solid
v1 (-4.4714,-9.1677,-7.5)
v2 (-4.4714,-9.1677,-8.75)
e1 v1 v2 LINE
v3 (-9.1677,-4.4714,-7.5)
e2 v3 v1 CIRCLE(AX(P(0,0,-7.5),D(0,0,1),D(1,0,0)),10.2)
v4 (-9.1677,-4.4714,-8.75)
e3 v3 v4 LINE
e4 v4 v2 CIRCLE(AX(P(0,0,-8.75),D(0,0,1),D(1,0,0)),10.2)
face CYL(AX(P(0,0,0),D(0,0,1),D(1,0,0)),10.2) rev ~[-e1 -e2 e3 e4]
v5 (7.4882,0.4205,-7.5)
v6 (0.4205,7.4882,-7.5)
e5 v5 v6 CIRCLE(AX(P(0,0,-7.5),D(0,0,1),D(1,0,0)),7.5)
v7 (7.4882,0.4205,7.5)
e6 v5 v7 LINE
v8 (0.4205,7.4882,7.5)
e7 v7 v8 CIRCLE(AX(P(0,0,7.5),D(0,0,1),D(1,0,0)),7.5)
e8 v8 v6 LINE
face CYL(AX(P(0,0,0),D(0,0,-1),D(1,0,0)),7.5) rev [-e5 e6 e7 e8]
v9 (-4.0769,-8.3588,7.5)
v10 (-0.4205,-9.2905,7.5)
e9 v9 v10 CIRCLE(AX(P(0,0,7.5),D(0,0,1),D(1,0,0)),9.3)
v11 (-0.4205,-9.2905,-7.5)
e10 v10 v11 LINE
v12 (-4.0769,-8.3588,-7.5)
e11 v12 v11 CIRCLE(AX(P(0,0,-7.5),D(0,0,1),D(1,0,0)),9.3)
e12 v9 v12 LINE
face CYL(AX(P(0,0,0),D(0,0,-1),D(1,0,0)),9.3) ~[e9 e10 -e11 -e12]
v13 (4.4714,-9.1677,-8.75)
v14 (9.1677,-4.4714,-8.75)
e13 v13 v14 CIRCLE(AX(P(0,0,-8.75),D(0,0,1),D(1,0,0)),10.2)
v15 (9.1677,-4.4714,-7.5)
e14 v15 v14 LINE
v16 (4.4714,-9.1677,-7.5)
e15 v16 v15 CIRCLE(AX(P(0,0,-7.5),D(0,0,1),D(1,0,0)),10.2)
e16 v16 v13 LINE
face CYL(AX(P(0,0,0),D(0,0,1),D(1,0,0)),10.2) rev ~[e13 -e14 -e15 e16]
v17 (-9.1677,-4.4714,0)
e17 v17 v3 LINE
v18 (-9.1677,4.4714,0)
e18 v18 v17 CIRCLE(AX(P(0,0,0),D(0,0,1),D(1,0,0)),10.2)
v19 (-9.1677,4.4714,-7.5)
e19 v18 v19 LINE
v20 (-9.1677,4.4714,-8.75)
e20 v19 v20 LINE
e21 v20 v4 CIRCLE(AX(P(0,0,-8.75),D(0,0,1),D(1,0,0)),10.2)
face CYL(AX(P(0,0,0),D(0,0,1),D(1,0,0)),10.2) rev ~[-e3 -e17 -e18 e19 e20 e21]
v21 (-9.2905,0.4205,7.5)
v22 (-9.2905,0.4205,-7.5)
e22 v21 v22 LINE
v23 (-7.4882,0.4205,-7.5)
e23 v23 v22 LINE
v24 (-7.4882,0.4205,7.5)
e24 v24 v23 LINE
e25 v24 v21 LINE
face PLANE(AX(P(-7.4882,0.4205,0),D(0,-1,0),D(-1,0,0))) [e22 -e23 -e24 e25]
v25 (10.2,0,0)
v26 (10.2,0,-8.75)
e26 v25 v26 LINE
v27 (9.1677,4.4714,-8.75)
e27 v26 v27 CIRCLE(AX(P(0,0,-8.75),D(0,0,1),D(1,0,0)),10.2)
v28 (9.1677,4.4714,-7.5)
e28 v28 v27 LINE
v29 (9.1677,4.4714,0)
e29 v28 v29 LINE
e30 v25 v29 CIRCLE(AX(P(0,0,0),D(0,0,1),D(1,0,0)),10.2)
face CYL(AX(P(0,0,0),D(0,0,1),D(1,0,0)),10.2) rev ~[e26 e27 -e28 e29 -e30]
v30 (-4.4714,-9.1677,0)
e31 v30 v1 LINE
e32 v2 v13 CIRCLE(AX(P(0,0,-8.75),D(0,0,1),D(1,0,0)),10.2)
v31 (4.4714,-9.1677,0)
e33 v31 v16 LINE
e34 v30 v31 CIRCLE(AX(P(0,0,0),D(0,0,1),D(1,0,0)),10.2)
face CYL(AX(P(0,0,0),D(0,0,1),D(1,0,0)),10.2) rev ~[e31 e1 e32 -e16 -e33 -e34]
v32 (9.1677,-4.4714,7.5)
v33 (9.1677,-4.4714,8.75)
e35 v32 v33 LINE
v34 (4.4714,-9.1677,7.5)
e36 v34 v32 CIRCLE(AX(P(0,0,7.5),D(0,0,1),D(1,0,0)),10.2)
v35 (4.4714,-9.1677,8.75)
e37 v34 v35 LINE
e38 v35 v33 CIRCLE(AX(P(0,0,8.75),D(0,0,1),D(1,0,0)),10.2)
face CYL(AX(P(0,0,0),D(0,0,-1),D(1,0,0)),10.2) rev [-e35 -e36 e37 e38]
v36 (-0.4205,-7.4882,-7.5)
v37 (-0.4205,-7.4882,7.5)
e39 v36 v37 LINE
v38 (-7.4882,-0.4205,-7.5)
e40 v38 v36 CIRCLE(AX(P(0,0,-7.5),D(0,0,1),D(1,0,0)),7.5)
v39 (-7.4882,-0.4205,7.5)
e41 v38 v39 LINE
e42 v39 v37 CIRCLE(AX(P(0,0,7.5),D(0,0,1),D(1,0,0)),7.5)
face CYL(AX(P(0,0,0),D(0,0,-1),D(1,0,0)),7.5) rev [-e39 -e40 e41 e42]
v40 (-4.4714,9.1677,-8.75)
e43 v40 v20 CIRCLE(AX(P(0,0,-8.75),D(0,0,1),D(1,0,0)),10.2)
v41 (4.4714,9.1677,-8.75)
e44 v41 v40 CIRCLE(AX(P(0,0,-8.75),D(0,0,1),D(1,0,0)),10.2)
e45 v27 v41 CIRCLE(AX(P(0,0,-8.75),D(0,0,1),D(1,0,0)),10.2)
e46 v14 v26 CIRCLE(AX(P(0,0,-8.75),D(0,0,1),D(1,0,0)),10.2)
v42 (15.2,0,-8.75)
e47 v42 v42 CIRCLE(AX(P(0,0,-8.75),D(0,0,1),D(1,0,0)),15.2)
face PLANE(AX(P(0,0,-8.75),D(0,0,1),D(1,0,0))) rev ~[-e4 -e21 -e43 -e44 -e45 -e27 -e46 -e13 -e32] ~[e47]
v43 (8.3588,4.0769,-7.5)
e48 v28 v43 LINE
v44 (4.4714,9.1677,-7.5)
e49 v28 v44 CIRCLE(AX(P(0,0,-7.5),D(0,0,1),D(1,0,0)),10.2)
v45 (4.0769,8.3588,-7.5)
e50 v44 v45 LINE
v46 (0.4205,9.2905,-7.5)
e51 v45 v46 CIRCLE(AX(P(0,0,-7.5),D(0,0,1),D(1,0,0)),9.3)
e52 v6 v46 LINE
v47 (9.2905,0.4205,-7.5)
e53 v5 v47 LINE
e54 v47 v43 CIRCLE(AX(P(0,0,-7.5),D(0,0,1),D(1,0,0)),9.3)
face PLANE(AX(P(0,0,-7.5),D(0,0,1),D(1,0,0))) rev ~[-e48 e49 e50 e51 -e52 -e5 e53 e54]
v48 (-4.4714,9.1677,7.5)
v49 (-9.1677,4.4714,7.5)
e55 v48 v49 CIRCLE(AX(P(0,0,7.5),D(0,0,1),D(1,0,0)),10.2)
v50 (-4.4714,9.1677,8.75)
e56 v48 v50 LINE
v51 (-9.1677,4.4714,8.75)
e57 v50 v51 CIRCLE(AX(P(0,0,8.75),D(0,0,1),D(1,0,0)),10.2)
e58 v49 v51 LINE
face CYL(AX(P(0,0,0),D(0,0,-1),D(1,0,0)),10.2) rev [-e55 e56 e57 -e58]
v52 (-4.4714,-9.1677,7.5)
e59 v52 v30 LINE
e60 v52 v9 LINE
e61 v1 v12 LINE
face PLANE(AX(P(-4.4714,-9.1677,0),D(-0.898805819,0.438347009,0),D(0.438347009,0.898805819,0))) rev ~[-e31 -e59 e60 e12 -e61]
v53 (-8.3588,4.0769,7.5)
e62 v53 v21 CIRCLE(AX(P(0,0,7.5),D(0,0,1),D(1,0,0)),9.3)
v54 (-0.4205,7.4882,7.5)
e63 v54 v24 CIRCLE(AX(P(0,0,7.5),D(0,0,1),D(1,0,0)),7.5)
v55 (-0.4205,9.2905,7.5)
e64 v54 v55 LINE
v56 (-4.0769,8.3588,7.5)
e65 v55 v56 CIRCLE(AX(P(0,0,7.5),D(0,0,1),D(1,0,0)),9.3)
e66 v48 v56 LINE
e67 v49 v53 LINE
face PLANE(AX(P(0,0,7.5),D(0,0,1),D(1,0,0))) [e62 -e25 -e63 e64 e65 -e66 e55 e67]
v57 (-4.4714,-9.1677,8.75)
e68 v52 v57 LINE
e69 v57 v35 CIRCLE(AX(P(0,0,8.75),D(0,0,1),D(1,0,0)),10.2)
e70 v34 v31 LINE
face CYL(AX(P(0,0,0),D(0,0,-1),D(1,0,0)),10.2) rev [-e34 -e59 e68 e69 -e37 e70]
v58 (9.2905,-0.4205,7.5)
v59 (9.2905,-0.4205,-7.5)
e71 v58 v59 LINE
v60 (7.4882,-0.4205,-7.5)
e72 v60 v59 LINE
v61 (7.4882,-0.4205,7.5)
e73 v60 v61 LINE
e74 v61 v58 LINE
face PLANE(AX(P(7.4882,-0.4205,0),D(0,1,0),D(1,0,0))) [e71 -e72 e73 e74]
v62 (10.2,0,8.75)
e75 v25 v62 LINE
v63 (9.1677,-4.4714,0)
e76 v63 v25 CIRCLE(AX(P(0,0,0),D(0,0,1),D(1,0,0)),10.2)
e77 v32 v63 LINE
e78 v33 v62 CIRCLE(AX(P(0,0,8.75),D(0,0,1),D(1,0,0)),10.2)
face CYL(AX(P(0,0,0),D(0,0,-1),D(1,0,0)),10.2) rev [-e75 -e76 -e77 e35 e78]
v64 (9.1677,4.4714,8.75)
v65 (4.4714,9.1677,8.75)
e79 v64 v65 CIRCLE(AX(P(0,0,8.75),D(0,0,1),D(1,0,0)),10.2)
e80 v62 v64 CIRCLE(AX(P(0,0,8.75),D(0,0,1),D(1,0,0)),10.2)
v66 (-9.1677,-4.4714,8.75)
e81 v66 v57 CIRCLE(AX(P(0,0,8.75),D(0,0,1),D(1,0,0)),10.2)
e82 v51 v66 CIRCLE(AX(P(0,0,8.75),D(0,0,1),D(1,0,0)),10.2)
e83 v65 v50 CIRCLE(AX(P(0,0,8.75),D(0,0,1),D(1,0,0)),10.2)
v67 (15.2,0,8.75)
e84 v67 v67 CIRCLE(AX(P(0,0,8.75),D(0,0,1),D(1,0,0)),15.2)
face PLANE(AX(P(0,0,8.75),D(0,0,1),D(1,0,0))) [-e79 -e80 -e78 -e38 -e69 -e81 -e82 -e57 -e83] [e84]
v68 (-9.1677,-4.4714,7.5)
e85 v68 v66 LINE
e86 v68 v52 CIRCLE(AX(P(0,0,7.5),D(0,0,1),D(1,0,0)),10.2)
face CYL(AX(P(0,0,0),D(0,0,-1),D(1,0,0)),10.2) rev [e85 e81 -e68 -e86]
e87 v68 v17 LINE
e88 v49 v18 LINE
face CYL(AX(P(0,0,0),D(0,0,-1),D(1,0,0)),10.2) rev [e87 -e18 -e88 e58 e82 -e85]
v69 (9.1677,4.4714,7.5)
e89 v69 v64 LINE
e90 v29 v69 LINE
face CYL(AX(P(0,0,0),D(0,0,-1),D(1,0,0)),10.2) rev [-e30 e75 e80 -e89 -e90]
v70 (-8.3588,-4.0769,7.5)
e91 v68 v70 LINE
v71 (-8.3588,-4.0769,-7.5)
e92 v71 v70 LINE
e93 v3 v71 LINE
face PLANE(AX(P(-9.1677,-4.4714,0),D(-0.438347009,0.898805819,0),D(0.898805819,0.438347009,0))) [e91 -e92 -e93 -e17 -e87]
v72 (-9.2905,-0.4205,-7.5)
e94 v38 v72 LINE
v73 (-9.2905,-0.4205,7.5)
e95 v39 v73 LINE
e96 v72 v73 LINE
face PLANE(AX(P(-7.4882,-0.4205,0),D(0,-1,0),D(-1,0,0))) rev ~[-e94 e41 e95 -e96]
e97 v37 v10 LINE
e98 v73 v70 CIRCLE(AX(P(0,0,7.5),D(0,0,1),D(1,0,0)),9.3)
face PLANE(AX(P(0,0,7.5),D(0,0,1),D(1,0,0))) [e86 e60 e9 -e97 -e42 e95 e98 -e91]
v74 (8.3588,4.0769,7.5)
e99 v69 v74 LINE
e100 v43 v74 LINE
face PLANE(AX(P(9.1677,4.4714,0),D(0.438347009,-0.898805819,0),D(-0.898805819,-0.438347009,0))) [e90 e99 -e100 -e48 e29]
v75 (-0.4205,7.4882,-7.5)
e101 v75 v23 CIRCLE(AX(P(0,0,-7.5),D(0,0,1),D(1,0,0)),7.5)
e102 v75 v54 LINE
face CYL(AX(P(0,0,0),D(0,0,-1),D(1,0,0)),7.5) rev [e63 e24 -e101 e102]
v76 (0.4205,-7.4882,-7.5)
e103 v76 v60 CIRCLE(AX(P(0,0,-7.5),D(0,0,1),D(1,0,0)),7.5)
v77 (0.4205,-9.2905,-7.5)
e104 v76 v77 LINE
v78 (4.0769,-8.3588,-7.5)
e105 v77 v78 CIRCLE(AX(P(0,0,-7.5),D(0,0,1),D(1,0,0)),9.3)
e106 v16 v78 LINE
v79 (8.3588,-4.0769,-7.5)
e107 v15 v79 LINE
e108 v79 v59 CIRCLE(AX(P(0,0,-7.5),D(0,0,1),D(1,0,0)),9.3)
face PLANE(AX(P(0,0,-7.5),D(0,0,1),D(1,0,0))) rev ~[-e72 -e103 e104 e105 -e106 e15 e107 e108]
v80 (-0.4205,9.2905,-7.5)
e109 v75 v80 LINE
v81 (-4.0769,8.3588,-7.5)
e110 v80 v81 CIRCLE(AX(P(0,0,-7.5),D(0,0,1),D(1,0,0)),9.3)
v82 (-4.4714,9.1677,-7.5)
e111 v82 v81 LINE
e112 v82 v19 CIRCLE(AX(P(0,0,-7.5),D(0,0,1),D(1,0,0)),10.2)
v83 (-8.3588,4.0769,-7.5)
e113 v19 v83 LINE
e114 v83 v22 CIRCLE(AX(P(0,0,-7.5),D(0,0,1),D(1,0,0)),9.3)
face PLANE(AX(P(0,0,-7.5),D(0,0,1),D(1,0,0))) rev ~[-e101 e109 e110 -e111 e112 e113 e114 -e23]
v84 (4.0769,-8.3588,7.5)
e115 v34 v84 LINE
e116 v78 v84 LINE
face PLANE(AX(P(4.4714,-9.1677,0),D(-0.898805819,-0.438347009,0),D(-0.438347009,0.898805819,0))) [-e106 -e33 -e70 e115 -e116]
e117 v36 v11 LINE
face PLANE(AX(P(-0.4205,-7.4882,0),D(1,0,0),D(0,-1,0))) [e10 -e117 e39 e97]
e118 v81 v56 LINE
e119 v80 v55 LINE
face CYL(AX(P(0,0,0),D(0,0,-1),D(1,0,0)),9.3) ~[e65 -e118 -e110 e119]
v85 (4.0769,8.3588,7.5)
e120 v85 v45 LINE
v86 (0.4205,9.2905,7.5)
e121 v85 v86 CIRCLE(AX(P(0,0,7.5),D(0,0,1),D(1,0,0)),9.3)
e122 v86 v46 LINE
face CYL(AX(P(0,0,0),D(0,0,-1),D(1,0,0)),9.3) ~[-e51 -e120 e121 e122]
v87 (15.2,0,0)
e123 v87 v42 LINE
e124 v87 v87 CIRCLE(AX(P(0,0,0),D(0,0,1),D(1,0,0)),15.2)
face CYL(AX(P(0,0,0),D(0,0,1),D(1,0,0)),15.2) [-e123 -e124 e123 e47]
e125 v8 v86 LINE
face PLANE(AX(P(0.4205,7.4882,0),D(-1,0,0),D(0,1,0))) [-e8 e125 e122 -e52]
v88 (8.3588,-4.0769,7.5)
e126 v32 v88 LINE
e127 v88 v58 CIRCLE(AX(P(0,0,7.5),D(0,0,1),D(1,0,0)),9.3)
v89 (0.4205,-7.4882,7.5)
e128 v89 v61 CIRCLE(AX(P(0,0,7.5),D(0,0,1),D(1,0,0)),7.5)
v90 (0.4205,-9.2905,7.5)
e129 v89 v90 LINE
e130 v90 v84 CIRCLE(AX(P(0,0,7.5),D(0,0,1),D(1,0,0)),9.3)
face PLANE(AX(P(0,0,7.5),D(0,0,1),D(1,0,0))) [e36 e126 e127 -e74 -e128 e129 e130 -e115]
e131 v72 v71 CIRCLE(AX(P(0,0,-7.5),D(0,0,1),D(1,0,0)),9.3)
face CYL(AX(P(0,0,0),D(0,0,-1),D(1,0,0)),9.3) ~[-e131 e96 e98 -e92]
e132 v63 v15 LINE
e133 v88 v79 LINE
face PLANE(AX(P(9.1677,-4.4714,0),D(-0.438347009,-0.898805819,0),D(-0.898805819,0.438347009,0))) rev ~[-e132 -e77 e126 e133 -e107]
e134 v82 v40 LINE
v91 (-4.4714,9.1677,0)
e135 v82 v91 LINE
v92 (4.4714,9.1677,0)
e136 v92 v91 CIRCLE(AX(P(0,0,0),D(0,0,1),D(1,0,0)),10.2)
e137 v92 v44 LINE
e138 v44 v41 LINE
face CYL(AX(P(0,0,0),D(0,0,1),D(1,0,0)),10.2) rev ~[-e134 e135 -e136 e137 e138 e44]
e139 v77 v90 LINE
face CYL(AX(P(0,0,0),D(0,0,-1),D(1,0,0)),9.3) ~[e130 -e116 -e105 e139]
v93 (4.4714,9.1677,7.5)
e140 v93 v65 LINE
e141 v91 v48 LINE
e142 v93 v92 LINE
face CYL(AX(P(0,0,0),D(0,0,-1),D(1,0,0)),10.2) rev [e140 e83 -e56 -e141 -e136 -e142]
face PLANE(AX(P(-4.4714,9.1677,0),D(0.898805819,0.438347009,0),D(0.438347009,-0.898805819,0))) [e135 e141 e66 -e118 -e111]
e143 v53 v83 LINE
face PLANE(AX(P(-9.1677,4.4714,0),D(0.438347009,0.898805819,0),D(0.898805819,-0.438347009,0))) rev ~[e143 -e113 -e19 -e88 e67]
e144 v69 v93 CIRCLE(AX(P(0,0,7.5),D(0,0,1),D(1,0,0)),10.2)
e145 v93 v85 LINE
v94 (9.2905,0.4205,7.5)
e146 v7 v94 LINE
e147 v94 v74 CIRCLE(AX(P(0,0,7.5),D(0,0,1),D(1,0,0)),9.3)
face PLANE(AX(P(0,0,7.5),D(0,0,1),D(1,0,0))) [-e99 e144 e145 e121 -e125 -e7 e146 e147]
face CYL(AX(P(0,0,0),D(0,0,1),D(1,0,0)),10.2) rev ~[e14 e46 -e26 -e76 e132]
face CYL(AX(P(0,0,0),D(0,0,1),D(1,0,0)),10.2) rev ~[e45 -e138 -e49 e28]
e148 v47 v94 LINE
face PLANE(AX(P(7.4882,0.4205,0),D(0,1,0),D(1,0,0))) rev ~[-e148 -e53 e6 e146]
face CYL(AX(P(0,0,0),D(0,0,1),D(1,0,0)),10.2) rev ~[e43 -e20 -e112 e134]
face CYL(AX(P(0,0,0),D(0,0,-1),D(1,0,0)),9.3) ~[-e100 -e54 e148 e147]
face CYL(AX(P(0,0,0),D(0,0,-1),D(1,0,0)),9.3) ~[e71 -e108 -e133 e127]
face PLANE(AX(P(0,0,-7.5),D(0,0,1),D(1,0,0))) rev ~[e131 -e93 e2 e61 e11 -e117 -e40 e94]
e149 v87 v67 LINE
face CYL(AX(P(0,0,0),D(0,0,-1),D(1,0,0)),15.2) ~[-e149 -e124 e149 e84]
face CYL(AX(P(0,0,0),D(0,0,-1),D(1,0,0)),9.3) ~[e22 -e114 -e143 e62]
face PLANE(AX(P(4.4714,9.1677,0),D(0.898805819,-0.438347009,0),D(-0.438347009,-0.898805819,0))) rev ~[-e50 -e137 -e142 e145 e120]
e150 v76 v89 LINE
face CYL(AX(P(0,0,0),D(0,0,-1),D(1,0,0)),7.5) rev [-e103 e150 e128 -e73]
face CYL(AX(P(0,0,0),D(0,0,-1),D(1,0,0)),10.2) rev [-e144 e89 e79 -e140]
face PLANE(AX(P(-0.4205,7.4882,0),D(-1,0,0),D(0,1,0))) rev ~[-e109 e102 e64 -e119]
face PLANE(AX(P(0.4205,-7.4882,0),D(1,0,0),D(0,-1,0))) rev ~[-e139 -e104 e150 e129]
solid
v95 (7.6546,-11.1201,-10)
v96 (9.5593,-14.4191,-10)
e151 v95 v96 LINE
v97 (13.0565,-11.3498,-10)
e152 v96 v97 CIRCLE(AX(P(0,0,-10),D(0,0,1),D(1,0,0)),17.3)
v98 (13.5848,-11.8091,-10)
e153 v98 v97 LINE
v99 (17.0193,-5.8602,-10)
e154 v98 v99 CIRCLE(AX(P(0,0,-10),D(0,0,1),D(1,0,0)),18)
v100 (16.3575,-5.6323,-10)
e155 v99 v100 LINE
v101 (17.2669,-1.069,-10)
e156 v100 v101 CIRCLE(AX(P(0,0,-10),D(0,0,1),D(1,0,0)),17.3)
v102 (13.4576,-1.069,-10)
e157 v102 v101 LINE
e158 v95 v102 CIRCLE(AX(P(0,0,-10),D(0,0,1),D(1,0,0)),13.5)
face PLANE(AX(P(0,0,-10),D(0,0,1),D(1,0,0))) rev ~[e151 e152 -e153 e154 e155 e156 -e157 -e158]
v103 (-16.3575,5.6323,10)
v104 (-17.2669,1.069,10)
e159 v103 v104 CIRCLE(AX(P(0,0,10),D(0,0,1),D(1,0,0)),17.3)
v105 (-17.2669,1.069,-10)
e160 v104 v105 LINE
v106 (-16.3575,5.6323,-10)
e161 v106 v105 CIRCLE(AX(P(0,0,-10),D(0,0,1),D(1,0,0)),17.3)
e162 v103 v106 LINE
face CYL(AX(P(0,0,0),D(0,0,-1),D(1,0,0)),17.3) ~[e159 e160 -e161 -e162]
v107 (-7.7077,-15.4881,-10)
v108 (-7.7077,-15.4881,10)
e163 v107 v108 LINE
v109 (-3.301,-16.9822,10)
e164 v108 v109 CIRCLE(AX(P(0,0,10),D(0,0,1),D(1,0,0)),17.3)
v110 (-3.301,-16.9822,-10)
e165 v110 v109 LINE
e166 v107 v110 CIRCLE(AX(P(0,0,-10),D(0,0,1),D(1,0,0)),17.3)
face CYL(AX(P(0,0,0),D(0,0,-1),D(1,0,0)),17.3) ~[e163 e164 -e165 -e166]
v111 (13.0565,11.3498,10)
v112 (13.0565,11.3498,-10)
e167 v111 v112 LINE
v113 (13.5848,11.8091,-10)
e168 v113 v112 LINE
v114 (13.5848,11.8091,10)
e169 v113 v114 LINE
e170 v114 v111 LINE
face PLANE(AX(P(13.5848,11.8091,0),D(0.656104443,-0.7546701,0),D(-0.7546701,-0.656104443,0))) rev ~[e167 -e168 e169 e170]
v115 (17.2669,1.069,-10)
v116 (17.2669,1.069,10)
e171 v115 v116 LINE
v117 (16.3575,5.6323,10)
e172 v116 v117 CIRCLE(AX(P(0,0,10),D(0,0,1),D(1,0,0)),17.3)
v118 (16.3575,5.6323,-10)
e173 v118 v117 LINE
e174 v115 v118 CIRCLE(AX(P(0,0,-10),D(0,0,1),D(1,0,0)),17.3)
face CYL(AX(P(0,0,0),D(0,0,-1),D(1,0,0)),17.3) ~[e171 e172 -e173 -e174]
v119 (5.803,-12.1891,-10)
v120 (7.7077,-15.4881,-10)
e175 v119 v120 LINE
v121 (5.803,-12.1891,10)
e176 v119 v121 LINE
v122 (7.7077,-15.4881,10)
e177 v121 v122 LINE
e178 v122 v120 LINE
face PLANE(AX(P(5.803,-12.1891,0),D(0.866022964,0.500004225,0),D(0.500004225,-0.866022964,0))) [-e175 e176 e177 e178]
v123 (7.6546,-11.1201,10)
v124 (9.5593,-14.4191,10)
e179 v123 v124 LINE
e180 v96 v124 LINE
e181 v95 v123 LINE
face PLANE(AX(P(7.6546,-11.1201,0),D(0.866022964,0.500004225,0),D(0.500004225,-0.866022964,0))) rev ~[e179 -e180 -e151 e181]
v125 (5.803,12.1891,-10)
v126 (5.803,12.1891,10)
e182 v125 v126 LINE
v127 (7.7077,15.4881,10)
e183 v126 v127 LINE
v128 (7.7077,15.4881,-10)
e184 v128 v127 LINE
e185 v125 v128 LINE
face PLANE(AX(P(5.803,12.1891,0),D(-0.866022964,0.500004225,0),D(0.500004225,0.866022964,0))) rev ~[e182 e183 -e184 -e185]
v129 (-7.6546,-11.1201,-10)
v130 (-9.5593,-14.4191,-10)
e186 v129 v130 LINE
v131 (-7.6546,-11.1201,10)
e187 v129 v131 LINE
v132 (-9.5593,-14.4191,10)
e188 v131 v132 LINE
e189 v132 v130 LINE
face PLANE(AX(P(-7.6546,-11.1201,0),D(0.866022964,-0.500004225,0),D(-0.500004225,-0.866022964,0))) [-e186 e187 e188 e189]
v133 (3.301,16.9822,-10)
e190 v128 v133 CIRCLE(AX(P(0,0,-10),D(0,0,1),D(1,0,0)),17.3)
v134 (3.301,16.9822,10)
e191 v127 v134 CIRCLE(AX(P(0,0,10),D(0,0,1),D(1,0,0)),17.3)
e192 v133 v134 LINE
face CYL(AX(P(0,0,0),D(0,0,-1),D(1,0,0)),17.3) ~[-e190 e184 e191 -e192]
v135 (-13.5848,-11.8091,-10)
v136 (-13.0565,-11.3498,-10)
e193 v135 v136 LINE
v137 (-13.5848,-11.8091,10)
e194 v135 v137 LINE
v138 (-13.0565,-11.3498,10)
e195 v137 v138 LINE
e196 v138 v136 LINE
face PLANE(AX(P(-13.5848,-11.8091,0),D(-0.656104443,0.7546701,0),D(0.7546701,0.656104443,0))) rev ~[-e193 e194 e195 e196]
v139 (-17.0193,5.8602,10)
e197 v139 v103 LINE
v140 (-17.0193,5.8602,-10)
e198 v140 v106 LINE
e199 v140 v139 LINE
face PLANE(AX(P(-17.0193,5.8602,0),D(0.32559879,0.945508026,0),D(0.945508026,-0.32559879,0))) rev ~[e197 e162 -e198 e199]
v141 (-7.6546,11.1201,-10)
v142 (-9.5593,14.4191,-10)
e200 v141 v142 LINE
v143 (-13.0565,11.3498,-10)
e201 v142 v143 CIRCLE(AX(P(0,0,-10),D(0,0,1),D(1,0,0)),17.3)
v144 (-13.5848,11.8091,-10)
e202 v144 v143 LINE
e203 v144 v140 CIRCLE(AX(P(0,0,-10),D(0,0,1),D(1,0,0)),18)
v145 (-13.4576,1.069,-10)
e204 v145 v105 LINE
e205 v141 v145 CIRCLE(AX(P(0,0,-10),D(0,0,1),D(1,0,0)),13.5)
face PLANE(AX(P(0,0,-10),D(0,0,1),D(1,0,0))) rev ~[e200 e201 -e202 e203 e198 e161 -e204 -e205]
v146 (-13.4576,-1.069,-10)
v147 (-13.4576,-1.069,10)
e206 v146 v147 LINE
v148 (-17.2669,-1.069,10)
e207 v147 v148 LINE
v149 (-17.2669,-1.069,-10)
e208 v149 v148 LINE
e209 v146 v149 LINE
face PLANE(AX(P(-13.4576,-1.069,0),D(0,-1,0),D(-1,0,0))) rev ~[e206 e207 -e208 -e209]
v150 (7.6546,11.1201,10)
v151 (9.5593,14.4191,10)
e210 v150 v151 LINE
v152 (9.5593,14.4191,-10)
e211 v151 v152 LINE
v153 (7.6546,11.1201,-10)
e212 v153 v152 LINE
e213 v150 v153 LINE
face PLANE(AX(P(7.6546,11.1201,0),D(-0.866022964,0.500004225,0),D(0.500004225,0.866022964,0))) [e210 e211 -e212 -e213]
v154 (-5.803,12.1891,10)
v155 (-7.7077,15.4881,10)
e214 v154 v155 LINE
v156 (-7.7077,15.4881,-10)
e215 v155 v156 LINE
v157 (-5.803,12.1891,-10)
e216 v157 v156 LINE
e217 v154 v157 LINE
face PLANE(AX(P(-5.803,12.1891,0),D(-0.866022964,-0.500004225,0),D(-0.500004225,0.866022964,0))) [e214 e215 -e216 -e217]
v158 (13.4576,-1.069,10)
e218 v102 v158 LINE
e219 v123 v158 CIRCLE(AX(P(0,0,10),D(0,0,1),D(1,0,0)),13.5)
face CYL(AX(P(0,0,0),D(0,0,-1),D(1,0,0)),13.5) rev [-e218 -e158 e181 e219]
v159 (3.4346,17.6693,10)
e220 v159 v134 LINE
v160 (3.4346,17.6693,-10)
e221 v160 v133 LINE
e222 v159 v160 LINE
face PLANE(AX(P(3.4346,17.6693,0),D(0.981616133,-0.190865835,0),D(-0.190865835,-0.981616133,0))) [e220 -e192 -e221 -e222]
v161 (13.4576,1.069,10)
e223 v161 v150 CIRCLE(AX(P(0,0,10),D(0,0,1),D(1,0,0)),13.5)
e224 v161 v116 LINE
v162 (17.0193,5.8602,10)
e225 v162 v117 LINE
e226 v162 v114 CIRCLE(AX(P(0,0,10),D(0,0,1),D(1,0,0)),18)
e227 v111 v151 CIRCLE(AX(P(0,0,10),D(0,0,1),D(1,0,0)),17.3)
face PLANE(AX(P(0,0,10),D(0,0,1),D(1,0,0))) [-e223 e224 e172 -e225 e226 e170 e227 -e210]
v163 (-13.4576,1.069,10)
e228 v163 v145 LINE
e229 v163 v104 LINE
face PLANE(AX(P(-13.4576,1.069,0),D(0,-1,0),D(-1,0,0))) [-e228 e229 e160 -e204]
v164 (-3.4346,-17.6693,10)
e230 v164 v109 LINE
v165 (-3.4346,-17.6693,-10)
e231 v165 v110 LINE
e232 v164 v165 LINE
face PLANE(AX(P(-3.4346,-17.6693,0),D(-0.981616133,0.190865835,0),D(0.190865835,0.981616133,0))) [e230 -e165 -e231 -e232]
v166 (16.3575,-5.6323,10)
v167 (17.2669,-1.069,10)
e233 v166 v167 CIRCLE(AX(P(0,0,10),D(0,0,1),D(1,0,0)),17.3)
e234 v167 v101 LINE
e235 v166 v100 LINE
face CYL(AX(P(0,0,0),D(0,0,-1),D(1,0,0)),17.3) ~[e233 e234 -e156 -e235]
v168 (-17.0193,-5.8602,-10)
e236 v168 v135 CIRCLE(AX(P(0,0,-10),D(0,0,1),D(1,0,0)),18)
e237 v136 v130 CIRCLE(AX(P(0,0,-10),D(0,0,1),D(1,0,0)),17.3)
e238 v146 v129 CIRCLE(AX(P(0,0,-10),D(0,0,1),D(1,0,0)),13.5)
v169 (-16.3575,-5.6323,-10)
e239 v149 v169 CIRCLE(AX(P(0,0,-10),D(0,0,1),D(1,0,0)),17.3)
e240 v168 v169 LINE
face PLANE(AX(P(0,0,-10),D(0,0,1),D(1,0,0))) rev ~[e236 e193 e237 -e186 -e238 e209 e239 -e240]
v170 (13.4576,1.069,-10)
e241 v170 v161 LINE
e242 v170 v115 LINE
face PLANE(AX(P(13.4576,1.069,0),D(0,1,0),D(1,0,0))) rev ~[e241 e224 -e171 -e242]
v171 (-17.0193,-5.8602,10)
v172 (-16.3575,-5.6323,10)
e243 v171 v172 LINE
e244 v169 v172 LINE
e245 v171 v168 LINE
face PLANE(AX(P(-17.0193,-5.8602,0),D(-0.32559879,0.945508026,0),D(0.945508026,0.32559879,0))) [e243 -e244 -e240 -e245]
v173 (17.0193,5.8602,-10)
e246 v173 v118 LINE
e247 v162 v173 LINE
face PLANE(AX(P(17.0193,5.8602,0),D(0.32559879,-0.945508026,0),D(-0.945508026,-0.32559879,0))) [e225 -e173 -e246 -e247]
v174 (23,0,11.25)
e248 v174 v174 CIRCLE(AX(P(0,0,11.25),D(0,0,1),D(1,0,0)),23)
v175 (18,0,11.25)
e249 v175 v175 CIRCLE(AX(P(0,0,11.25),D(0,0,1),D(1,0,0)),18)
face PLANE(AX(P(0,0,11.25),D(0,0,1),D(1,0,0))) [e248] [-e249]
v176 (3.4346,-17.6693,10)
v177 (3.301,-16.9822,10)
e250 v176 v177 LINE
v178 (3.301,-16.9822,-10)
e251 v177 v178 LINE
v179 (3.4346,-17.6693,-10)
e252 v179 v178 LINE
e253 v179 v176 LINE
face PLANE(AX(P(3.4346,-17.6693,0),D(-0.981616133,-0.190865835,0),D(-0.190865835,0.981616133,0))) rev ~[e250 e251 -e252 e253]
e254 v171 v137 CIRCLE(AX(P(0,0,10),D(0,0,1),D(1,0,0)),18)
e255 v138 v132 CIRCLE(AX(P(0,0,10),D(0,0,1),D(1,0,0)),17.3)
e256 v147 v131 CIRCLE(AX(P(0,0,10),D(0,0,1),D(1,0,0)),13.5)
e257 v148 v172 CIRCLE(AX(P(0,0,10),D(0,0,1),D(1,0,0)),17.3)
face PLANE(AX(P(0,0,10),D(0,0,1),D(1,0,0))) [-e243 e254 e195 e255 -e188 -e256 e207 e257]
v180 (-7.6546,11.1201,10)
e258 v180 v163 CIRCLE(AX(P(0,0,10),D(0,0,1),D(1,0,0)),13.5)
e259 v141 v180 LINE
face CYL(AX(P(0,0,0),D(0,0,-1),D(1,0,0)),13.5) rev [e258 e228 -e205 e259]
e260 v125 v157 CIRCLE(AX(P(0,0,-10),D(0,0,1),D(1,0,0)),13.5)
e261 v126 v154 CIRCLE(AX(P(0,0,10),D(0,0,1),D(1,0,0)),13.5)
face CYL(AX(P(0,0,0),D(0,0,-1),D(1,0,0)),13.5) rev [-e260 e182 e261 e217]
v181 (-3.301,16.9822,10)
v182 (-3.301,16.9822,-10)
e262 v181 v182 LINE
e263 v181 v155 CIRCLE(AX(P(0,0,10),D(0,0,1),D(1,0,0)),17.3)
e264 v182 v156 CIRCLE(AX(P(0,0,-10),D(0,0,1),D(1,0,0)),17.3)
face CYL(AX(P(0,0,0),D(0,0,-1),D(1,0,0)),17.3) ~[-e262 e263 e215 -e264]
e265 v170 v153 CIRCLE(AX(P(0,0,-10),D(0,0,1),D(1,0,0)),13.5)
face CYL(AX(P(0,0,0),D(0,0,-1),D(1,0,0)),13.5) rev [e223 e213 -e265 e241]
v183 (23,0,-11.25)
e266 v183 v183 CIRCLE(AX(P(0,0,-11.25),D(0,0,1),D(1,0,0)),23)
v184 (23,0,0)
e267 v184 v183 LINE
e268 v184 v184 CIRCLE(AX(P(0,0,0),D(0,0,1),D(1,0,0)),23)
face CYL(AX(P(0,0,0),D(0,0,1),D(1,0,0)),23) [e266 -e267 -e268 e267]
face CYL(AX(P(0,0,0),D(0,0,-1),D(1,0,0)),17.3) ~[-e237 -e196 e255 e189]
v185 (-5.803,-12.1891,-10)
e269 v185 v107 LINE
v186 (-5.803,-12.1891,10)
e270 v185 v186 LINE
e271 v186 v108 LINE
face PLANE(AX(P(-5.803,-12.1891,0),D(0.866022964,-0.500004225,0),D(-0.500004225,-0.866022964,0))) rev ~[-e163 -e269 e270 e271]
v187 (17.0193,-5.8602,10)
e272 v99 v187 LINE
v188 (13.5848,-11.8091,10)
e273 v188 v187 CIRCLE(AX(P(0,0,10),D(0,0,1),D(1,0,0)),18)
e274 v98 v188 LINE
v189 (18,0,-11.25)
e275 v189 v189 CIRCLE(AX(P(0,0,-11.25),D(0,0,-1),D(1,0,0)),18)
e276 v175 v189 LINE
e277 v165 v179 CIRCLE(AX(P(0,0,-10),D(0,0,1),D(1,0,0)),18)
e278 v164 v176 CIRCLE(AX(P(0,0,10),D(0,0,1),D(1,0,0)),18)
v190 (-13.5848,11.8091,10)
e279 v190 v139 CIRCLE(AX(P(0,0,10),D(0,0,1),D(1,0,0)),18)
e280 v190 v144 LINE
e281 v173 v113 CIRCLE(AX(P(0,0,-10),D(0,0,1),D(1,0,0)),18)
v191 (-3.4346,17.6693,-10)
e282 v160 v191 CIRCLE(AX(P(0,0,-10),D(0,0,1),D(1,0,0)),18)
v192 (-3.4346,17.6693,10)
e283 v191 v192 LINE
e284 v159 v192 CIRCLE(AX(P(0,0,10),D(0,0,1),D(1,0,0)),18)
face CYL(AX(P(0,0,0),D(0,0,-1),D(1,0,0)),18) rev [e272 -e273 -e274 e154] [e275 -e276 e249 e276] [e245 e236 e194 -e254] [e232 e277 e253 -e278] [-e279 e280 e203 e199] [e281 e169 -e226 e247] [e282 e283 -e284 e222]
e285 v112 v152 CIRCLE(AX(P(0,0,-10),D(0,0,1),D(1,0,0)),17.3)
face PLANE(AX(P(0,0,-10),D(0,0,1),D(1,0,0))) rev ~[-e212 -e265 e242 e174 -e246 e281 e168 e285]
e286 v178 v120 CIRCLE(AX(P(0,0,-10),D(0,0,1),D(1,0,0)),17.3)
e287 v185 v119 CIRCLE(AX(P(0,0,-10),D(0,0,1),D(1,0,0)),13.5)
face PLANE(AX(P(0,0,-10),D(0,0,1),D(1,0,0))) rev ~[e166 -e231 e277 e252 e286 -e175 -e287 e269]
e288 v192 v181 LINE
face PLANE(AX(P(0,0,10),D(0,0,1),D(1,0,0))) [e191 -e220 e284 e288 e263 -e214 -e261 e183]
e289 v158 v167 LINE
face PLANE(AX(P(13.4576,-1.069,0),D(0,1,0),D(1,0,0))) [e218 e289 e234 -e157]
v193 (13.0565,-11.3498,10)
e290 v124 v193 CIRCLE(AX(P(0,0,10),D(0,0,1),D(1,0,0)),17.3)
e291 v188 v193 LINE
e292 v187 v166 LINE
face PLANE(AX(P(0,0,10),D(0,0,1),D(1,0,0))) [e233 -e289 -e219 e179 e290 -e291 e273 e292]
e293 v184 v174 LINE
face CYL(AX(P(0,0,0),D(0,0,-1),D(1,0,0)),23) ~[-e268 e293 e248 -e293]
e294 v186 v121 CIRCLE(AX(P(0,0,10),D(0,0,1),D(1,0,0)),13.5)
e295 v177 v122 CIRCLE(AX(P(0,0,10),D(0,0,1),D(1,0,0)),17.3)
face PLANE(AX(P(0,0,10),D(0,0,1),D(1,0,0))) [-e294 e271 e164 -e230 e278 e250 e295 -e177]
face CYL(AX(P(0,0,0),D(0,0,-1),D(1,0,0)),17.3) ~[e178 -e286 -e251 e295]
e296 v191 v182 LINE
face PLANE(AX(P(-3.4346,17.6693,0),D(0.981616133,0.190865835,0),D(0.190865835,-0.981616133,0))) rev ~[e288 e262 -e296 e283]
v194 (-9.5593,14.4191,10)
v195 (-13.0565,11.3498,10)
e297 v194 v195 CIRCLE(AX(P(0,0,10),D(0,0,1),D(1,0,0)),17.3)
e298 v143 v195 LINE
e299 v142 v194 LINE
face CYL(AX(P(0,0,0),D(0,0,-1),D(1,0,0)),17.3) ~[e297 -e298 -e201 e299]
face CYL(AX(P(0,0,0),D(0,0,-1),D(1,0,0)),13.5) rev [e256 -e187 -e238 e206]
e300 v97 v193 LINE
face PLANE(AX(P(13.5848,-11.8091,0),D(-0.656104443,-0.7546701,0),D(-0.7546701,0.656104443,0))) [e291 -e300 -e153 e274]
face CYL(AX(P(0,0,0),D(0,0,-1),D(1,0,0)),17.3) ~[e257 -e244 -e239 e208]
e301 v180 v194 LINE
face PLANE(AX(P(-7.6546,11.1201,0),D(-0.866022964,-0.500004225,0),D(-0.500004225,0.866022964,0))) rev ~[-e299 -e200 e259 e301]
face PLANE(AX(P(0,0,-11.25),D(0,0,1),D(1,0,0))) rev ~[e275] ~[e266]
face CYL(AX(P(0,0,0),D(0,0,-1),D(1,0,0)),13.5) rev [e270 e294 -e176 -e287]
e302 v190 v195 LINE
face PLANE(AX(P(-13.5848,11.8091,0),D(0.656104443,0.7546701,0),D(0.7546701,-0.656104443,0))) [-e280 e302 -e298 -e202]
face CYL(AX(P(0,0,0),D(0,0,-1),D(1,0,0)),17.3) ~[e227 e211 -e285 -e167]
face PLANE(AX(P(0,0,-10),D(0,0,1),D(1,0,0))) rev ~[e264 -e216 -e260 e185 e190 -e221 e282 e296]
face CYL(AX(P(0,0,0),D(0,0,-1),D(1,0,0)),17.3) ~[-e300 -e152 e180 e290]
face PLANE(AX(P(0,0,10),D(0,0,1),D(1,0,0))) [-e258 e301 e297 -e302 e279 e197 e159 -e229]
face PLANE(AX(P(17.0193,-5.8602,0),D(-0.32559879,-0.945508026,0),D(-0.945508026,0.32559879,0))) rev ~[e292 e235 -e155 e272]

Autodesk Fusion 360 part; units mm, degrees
sketch "Sketch1" plane through (0, 0, 0) normal (0, 0, 1) x (1, 0, 0) in component "6 Electrodes"
  circle A0 centre (0, 0) radius 13.5
  circle A1 centre (0, 0) radius 18
  circle A2 centre (0, 0) radius 17.3
  circle A3 centre (0, 0) radius 23
  line L0 (13.4576, -1.069) -> (17.2669, -1.069)
  line L1 (13.4576, 1.069) -> (17.2669, 1.069)
  line L2 (7.6546, 11.1201) -> (9.5593, 14.4191)
  line L3 (5.803, 12.1891) -> (7.7077, 15.4881)
  line L4 (-5.803, 12.1891) -> (-7.7077, 15.4881)
  line L5 (-7.6546, 11.1201) -> (-9.5593, 14.4191)
  line L6 (-13.4576, 1.069) -> (-17.2669, 1.069)
  line L7 (-13.4576, -1.069) -> (-17.2669, -1.069)
  line L8 (-7.6546, -11.1201) -> (-9.5593, -14.4191)
  line L9 (-5.803, -12.1891) -> (-7.7077, -15.4881)
  line L10 (5.803, -12.1891) -> (7.7077, -15.4881)
  line L11 (7.6546, -11.1201) -> (9.5593, -14.4191)
  line L12 (3.4346, -17.6693) -> (3.301, -16.9822)
  line L13 (-3.4346, -17.6693) -> (-3.301, -16.9822)
  line L14 (17.0193, -5.8602) -> (16.3575, -5.6323)
  line L15 (13.5848, -11.8091) -> (13.0565, -11.3498)
  line L16 (13.5848, 11.8091) -> (13.0565, 11.3498)
  line L17 (17.0193, 5.8602) -> (16.3575, 5.6323)
  line L18 (-3.4346, 17.6693) -> (-3.301, 16.9822)
  line L19 (3.4346, 17.6693) -> (3.301, 16.9822)
  line L20 (-17.0193, 5.8602) -> (-16.3575, 5.6323)
  line L21 (-13.5848, 11.8091) -> (-13.0565, 11.3498)
  line L22 (-13.5848, -11.8091) -> (-13.0565, -11.3498)
  line L23 (-17.0193, -5.8602) -> (-16.3575, -5.6323)
  dimension "d51" = 1.069
  dimension "d52" = 1.069
  dimension "d54" = 360
  dimension "d56" = 360
extrude "Extrude1" add sketch "Sketch1" along normal mid plane 20 contours A0 A2 L1 L2 | A0 A2 L0 L11 | A0 A2 L3 L4 | A1 A2 L16 L17 | A0 A2 L9 L10 | A1 A2 L14 L15 | A0 A2 L5 L6 | A1 A2 L18 L19 | A0 A2 L7 L8 | A1 A2 L12 L13 | A1 A2 L20 L21 | A1 A2 L22 L23 makes body 1 at (13.3885, -1.7318, 3.3333) makes body 2 at (5.1944, -12.4607, 3.3333) makes body 3 at (12.2998, 5.5646, 3.3333) makes body 4 at (-2.6487, 13.2376, 3.3333) makes body 5 at (-8.7135, 10.3114, 3.3333) makes body 6 at (-10.969, -7.8697, 3.3333) in component "6 Electrodes"
extrude "Extrude2" add sketch "Sketch1" along normal mid plane 22.5 bodies 1 2 3 4 5 6 in component "6 Electrodes"
sketch "Sketch1 (2)" plane through (0, 0, 0) normal (0, 0, 1) x (1, 0, 0) in component "4 Electrodes"
  circle A0 centre (0, 0) radius 7.5
  circle A1 centre (0, 0) radius 10.2
  circle A2 centre (0, 0) radius 9.3
  circle A3 centre (0, 0) radius 15.2
  line L0 (7.4882, -0.4205) -> (9.2905, -0.4205)
  line L1 (7.4882, 0.4205) -> (9.2905, 0.4205)
  line L2 (0.4205, 7.4882) -> (0.4205, 9.2905)
  line L3 (-0.4205, 7.4882) -> (-0.4205, 9.2905)
  line L4 (-7.4882, 0.4205) -> (-9.2905, 0.4205)
  line L5 (-7.4882, -0.4205) -> (-9.2905, -0.4205)
  line L6 (-0.4205, -7.4882) -> (-0.4205, -9.2905)
  line L7 (0.4205, -7.4882) -> (0.4205, -9.2905)
  line L8 (-4.4714, -9.1677) -> (-4.0769, -8.3588)
  line L9 (-9.1677, -4.4714) -> (-8.3588, -4.0769)
  line L10 (9.1677, -4.4714) -> (8.3588, -4.0769)
  line L11 (4.4714, -9.1677) -> (4.0769, -8.3588)
  line L12 (4.4714, 9.1677) -> (4.0769, 8.3588)
  line L13 (9.1677, 4.4714) -> (8.3588, 4.0769)
  line L14 (-9.1677, 4.4714) -> (-8.3588, 4.0769)
  line L15 (-4.4714, 9.1677) -> (-4.0769, 8.3588)
  dimension "d61" = 0.4205
  dimension "d62" = 0.4205
  dimension "d64" = 360
  dimension "d66" = 360
extrude "Extrude1'" add sketch "Sketch1 (2)" along normal mid plane 15 separate body contours A0 A2 L1 L2 | A0 A2 L0 L7 | A0 A2 L3 L4 | A1 A2 L12 L13 | A0 A2 L5 L6 | A1 A2 L10 L11 | A1 A2 L14 L15 | A1 A2 L8 L9 makes body 7 at (3.8708, 6.4239, 2.5) makes body 8 at (-7.412, 1.1455, 2.5) makes body 9 at (5.5548, -5.0393, 2.5) makes body 10 at (-3.2288, -6.7694, -2.5) in component "4 Electrodes"
extrude "Extrude2'" add sketch "Sketch1 (2)" along normal mid plane 17.5 bodies 7 8 9 10 in component "4 Electrodes"
component "6 Electrodes" placed x (1, 0, 0) y (0, 1, 0) z (0, 0, 1) at (0, 0, 0)
component "4 Electrodes" placed x (1, 0, 0) y (0, 1, 0) z (0, 0, 1) at (0, 0, 0)
